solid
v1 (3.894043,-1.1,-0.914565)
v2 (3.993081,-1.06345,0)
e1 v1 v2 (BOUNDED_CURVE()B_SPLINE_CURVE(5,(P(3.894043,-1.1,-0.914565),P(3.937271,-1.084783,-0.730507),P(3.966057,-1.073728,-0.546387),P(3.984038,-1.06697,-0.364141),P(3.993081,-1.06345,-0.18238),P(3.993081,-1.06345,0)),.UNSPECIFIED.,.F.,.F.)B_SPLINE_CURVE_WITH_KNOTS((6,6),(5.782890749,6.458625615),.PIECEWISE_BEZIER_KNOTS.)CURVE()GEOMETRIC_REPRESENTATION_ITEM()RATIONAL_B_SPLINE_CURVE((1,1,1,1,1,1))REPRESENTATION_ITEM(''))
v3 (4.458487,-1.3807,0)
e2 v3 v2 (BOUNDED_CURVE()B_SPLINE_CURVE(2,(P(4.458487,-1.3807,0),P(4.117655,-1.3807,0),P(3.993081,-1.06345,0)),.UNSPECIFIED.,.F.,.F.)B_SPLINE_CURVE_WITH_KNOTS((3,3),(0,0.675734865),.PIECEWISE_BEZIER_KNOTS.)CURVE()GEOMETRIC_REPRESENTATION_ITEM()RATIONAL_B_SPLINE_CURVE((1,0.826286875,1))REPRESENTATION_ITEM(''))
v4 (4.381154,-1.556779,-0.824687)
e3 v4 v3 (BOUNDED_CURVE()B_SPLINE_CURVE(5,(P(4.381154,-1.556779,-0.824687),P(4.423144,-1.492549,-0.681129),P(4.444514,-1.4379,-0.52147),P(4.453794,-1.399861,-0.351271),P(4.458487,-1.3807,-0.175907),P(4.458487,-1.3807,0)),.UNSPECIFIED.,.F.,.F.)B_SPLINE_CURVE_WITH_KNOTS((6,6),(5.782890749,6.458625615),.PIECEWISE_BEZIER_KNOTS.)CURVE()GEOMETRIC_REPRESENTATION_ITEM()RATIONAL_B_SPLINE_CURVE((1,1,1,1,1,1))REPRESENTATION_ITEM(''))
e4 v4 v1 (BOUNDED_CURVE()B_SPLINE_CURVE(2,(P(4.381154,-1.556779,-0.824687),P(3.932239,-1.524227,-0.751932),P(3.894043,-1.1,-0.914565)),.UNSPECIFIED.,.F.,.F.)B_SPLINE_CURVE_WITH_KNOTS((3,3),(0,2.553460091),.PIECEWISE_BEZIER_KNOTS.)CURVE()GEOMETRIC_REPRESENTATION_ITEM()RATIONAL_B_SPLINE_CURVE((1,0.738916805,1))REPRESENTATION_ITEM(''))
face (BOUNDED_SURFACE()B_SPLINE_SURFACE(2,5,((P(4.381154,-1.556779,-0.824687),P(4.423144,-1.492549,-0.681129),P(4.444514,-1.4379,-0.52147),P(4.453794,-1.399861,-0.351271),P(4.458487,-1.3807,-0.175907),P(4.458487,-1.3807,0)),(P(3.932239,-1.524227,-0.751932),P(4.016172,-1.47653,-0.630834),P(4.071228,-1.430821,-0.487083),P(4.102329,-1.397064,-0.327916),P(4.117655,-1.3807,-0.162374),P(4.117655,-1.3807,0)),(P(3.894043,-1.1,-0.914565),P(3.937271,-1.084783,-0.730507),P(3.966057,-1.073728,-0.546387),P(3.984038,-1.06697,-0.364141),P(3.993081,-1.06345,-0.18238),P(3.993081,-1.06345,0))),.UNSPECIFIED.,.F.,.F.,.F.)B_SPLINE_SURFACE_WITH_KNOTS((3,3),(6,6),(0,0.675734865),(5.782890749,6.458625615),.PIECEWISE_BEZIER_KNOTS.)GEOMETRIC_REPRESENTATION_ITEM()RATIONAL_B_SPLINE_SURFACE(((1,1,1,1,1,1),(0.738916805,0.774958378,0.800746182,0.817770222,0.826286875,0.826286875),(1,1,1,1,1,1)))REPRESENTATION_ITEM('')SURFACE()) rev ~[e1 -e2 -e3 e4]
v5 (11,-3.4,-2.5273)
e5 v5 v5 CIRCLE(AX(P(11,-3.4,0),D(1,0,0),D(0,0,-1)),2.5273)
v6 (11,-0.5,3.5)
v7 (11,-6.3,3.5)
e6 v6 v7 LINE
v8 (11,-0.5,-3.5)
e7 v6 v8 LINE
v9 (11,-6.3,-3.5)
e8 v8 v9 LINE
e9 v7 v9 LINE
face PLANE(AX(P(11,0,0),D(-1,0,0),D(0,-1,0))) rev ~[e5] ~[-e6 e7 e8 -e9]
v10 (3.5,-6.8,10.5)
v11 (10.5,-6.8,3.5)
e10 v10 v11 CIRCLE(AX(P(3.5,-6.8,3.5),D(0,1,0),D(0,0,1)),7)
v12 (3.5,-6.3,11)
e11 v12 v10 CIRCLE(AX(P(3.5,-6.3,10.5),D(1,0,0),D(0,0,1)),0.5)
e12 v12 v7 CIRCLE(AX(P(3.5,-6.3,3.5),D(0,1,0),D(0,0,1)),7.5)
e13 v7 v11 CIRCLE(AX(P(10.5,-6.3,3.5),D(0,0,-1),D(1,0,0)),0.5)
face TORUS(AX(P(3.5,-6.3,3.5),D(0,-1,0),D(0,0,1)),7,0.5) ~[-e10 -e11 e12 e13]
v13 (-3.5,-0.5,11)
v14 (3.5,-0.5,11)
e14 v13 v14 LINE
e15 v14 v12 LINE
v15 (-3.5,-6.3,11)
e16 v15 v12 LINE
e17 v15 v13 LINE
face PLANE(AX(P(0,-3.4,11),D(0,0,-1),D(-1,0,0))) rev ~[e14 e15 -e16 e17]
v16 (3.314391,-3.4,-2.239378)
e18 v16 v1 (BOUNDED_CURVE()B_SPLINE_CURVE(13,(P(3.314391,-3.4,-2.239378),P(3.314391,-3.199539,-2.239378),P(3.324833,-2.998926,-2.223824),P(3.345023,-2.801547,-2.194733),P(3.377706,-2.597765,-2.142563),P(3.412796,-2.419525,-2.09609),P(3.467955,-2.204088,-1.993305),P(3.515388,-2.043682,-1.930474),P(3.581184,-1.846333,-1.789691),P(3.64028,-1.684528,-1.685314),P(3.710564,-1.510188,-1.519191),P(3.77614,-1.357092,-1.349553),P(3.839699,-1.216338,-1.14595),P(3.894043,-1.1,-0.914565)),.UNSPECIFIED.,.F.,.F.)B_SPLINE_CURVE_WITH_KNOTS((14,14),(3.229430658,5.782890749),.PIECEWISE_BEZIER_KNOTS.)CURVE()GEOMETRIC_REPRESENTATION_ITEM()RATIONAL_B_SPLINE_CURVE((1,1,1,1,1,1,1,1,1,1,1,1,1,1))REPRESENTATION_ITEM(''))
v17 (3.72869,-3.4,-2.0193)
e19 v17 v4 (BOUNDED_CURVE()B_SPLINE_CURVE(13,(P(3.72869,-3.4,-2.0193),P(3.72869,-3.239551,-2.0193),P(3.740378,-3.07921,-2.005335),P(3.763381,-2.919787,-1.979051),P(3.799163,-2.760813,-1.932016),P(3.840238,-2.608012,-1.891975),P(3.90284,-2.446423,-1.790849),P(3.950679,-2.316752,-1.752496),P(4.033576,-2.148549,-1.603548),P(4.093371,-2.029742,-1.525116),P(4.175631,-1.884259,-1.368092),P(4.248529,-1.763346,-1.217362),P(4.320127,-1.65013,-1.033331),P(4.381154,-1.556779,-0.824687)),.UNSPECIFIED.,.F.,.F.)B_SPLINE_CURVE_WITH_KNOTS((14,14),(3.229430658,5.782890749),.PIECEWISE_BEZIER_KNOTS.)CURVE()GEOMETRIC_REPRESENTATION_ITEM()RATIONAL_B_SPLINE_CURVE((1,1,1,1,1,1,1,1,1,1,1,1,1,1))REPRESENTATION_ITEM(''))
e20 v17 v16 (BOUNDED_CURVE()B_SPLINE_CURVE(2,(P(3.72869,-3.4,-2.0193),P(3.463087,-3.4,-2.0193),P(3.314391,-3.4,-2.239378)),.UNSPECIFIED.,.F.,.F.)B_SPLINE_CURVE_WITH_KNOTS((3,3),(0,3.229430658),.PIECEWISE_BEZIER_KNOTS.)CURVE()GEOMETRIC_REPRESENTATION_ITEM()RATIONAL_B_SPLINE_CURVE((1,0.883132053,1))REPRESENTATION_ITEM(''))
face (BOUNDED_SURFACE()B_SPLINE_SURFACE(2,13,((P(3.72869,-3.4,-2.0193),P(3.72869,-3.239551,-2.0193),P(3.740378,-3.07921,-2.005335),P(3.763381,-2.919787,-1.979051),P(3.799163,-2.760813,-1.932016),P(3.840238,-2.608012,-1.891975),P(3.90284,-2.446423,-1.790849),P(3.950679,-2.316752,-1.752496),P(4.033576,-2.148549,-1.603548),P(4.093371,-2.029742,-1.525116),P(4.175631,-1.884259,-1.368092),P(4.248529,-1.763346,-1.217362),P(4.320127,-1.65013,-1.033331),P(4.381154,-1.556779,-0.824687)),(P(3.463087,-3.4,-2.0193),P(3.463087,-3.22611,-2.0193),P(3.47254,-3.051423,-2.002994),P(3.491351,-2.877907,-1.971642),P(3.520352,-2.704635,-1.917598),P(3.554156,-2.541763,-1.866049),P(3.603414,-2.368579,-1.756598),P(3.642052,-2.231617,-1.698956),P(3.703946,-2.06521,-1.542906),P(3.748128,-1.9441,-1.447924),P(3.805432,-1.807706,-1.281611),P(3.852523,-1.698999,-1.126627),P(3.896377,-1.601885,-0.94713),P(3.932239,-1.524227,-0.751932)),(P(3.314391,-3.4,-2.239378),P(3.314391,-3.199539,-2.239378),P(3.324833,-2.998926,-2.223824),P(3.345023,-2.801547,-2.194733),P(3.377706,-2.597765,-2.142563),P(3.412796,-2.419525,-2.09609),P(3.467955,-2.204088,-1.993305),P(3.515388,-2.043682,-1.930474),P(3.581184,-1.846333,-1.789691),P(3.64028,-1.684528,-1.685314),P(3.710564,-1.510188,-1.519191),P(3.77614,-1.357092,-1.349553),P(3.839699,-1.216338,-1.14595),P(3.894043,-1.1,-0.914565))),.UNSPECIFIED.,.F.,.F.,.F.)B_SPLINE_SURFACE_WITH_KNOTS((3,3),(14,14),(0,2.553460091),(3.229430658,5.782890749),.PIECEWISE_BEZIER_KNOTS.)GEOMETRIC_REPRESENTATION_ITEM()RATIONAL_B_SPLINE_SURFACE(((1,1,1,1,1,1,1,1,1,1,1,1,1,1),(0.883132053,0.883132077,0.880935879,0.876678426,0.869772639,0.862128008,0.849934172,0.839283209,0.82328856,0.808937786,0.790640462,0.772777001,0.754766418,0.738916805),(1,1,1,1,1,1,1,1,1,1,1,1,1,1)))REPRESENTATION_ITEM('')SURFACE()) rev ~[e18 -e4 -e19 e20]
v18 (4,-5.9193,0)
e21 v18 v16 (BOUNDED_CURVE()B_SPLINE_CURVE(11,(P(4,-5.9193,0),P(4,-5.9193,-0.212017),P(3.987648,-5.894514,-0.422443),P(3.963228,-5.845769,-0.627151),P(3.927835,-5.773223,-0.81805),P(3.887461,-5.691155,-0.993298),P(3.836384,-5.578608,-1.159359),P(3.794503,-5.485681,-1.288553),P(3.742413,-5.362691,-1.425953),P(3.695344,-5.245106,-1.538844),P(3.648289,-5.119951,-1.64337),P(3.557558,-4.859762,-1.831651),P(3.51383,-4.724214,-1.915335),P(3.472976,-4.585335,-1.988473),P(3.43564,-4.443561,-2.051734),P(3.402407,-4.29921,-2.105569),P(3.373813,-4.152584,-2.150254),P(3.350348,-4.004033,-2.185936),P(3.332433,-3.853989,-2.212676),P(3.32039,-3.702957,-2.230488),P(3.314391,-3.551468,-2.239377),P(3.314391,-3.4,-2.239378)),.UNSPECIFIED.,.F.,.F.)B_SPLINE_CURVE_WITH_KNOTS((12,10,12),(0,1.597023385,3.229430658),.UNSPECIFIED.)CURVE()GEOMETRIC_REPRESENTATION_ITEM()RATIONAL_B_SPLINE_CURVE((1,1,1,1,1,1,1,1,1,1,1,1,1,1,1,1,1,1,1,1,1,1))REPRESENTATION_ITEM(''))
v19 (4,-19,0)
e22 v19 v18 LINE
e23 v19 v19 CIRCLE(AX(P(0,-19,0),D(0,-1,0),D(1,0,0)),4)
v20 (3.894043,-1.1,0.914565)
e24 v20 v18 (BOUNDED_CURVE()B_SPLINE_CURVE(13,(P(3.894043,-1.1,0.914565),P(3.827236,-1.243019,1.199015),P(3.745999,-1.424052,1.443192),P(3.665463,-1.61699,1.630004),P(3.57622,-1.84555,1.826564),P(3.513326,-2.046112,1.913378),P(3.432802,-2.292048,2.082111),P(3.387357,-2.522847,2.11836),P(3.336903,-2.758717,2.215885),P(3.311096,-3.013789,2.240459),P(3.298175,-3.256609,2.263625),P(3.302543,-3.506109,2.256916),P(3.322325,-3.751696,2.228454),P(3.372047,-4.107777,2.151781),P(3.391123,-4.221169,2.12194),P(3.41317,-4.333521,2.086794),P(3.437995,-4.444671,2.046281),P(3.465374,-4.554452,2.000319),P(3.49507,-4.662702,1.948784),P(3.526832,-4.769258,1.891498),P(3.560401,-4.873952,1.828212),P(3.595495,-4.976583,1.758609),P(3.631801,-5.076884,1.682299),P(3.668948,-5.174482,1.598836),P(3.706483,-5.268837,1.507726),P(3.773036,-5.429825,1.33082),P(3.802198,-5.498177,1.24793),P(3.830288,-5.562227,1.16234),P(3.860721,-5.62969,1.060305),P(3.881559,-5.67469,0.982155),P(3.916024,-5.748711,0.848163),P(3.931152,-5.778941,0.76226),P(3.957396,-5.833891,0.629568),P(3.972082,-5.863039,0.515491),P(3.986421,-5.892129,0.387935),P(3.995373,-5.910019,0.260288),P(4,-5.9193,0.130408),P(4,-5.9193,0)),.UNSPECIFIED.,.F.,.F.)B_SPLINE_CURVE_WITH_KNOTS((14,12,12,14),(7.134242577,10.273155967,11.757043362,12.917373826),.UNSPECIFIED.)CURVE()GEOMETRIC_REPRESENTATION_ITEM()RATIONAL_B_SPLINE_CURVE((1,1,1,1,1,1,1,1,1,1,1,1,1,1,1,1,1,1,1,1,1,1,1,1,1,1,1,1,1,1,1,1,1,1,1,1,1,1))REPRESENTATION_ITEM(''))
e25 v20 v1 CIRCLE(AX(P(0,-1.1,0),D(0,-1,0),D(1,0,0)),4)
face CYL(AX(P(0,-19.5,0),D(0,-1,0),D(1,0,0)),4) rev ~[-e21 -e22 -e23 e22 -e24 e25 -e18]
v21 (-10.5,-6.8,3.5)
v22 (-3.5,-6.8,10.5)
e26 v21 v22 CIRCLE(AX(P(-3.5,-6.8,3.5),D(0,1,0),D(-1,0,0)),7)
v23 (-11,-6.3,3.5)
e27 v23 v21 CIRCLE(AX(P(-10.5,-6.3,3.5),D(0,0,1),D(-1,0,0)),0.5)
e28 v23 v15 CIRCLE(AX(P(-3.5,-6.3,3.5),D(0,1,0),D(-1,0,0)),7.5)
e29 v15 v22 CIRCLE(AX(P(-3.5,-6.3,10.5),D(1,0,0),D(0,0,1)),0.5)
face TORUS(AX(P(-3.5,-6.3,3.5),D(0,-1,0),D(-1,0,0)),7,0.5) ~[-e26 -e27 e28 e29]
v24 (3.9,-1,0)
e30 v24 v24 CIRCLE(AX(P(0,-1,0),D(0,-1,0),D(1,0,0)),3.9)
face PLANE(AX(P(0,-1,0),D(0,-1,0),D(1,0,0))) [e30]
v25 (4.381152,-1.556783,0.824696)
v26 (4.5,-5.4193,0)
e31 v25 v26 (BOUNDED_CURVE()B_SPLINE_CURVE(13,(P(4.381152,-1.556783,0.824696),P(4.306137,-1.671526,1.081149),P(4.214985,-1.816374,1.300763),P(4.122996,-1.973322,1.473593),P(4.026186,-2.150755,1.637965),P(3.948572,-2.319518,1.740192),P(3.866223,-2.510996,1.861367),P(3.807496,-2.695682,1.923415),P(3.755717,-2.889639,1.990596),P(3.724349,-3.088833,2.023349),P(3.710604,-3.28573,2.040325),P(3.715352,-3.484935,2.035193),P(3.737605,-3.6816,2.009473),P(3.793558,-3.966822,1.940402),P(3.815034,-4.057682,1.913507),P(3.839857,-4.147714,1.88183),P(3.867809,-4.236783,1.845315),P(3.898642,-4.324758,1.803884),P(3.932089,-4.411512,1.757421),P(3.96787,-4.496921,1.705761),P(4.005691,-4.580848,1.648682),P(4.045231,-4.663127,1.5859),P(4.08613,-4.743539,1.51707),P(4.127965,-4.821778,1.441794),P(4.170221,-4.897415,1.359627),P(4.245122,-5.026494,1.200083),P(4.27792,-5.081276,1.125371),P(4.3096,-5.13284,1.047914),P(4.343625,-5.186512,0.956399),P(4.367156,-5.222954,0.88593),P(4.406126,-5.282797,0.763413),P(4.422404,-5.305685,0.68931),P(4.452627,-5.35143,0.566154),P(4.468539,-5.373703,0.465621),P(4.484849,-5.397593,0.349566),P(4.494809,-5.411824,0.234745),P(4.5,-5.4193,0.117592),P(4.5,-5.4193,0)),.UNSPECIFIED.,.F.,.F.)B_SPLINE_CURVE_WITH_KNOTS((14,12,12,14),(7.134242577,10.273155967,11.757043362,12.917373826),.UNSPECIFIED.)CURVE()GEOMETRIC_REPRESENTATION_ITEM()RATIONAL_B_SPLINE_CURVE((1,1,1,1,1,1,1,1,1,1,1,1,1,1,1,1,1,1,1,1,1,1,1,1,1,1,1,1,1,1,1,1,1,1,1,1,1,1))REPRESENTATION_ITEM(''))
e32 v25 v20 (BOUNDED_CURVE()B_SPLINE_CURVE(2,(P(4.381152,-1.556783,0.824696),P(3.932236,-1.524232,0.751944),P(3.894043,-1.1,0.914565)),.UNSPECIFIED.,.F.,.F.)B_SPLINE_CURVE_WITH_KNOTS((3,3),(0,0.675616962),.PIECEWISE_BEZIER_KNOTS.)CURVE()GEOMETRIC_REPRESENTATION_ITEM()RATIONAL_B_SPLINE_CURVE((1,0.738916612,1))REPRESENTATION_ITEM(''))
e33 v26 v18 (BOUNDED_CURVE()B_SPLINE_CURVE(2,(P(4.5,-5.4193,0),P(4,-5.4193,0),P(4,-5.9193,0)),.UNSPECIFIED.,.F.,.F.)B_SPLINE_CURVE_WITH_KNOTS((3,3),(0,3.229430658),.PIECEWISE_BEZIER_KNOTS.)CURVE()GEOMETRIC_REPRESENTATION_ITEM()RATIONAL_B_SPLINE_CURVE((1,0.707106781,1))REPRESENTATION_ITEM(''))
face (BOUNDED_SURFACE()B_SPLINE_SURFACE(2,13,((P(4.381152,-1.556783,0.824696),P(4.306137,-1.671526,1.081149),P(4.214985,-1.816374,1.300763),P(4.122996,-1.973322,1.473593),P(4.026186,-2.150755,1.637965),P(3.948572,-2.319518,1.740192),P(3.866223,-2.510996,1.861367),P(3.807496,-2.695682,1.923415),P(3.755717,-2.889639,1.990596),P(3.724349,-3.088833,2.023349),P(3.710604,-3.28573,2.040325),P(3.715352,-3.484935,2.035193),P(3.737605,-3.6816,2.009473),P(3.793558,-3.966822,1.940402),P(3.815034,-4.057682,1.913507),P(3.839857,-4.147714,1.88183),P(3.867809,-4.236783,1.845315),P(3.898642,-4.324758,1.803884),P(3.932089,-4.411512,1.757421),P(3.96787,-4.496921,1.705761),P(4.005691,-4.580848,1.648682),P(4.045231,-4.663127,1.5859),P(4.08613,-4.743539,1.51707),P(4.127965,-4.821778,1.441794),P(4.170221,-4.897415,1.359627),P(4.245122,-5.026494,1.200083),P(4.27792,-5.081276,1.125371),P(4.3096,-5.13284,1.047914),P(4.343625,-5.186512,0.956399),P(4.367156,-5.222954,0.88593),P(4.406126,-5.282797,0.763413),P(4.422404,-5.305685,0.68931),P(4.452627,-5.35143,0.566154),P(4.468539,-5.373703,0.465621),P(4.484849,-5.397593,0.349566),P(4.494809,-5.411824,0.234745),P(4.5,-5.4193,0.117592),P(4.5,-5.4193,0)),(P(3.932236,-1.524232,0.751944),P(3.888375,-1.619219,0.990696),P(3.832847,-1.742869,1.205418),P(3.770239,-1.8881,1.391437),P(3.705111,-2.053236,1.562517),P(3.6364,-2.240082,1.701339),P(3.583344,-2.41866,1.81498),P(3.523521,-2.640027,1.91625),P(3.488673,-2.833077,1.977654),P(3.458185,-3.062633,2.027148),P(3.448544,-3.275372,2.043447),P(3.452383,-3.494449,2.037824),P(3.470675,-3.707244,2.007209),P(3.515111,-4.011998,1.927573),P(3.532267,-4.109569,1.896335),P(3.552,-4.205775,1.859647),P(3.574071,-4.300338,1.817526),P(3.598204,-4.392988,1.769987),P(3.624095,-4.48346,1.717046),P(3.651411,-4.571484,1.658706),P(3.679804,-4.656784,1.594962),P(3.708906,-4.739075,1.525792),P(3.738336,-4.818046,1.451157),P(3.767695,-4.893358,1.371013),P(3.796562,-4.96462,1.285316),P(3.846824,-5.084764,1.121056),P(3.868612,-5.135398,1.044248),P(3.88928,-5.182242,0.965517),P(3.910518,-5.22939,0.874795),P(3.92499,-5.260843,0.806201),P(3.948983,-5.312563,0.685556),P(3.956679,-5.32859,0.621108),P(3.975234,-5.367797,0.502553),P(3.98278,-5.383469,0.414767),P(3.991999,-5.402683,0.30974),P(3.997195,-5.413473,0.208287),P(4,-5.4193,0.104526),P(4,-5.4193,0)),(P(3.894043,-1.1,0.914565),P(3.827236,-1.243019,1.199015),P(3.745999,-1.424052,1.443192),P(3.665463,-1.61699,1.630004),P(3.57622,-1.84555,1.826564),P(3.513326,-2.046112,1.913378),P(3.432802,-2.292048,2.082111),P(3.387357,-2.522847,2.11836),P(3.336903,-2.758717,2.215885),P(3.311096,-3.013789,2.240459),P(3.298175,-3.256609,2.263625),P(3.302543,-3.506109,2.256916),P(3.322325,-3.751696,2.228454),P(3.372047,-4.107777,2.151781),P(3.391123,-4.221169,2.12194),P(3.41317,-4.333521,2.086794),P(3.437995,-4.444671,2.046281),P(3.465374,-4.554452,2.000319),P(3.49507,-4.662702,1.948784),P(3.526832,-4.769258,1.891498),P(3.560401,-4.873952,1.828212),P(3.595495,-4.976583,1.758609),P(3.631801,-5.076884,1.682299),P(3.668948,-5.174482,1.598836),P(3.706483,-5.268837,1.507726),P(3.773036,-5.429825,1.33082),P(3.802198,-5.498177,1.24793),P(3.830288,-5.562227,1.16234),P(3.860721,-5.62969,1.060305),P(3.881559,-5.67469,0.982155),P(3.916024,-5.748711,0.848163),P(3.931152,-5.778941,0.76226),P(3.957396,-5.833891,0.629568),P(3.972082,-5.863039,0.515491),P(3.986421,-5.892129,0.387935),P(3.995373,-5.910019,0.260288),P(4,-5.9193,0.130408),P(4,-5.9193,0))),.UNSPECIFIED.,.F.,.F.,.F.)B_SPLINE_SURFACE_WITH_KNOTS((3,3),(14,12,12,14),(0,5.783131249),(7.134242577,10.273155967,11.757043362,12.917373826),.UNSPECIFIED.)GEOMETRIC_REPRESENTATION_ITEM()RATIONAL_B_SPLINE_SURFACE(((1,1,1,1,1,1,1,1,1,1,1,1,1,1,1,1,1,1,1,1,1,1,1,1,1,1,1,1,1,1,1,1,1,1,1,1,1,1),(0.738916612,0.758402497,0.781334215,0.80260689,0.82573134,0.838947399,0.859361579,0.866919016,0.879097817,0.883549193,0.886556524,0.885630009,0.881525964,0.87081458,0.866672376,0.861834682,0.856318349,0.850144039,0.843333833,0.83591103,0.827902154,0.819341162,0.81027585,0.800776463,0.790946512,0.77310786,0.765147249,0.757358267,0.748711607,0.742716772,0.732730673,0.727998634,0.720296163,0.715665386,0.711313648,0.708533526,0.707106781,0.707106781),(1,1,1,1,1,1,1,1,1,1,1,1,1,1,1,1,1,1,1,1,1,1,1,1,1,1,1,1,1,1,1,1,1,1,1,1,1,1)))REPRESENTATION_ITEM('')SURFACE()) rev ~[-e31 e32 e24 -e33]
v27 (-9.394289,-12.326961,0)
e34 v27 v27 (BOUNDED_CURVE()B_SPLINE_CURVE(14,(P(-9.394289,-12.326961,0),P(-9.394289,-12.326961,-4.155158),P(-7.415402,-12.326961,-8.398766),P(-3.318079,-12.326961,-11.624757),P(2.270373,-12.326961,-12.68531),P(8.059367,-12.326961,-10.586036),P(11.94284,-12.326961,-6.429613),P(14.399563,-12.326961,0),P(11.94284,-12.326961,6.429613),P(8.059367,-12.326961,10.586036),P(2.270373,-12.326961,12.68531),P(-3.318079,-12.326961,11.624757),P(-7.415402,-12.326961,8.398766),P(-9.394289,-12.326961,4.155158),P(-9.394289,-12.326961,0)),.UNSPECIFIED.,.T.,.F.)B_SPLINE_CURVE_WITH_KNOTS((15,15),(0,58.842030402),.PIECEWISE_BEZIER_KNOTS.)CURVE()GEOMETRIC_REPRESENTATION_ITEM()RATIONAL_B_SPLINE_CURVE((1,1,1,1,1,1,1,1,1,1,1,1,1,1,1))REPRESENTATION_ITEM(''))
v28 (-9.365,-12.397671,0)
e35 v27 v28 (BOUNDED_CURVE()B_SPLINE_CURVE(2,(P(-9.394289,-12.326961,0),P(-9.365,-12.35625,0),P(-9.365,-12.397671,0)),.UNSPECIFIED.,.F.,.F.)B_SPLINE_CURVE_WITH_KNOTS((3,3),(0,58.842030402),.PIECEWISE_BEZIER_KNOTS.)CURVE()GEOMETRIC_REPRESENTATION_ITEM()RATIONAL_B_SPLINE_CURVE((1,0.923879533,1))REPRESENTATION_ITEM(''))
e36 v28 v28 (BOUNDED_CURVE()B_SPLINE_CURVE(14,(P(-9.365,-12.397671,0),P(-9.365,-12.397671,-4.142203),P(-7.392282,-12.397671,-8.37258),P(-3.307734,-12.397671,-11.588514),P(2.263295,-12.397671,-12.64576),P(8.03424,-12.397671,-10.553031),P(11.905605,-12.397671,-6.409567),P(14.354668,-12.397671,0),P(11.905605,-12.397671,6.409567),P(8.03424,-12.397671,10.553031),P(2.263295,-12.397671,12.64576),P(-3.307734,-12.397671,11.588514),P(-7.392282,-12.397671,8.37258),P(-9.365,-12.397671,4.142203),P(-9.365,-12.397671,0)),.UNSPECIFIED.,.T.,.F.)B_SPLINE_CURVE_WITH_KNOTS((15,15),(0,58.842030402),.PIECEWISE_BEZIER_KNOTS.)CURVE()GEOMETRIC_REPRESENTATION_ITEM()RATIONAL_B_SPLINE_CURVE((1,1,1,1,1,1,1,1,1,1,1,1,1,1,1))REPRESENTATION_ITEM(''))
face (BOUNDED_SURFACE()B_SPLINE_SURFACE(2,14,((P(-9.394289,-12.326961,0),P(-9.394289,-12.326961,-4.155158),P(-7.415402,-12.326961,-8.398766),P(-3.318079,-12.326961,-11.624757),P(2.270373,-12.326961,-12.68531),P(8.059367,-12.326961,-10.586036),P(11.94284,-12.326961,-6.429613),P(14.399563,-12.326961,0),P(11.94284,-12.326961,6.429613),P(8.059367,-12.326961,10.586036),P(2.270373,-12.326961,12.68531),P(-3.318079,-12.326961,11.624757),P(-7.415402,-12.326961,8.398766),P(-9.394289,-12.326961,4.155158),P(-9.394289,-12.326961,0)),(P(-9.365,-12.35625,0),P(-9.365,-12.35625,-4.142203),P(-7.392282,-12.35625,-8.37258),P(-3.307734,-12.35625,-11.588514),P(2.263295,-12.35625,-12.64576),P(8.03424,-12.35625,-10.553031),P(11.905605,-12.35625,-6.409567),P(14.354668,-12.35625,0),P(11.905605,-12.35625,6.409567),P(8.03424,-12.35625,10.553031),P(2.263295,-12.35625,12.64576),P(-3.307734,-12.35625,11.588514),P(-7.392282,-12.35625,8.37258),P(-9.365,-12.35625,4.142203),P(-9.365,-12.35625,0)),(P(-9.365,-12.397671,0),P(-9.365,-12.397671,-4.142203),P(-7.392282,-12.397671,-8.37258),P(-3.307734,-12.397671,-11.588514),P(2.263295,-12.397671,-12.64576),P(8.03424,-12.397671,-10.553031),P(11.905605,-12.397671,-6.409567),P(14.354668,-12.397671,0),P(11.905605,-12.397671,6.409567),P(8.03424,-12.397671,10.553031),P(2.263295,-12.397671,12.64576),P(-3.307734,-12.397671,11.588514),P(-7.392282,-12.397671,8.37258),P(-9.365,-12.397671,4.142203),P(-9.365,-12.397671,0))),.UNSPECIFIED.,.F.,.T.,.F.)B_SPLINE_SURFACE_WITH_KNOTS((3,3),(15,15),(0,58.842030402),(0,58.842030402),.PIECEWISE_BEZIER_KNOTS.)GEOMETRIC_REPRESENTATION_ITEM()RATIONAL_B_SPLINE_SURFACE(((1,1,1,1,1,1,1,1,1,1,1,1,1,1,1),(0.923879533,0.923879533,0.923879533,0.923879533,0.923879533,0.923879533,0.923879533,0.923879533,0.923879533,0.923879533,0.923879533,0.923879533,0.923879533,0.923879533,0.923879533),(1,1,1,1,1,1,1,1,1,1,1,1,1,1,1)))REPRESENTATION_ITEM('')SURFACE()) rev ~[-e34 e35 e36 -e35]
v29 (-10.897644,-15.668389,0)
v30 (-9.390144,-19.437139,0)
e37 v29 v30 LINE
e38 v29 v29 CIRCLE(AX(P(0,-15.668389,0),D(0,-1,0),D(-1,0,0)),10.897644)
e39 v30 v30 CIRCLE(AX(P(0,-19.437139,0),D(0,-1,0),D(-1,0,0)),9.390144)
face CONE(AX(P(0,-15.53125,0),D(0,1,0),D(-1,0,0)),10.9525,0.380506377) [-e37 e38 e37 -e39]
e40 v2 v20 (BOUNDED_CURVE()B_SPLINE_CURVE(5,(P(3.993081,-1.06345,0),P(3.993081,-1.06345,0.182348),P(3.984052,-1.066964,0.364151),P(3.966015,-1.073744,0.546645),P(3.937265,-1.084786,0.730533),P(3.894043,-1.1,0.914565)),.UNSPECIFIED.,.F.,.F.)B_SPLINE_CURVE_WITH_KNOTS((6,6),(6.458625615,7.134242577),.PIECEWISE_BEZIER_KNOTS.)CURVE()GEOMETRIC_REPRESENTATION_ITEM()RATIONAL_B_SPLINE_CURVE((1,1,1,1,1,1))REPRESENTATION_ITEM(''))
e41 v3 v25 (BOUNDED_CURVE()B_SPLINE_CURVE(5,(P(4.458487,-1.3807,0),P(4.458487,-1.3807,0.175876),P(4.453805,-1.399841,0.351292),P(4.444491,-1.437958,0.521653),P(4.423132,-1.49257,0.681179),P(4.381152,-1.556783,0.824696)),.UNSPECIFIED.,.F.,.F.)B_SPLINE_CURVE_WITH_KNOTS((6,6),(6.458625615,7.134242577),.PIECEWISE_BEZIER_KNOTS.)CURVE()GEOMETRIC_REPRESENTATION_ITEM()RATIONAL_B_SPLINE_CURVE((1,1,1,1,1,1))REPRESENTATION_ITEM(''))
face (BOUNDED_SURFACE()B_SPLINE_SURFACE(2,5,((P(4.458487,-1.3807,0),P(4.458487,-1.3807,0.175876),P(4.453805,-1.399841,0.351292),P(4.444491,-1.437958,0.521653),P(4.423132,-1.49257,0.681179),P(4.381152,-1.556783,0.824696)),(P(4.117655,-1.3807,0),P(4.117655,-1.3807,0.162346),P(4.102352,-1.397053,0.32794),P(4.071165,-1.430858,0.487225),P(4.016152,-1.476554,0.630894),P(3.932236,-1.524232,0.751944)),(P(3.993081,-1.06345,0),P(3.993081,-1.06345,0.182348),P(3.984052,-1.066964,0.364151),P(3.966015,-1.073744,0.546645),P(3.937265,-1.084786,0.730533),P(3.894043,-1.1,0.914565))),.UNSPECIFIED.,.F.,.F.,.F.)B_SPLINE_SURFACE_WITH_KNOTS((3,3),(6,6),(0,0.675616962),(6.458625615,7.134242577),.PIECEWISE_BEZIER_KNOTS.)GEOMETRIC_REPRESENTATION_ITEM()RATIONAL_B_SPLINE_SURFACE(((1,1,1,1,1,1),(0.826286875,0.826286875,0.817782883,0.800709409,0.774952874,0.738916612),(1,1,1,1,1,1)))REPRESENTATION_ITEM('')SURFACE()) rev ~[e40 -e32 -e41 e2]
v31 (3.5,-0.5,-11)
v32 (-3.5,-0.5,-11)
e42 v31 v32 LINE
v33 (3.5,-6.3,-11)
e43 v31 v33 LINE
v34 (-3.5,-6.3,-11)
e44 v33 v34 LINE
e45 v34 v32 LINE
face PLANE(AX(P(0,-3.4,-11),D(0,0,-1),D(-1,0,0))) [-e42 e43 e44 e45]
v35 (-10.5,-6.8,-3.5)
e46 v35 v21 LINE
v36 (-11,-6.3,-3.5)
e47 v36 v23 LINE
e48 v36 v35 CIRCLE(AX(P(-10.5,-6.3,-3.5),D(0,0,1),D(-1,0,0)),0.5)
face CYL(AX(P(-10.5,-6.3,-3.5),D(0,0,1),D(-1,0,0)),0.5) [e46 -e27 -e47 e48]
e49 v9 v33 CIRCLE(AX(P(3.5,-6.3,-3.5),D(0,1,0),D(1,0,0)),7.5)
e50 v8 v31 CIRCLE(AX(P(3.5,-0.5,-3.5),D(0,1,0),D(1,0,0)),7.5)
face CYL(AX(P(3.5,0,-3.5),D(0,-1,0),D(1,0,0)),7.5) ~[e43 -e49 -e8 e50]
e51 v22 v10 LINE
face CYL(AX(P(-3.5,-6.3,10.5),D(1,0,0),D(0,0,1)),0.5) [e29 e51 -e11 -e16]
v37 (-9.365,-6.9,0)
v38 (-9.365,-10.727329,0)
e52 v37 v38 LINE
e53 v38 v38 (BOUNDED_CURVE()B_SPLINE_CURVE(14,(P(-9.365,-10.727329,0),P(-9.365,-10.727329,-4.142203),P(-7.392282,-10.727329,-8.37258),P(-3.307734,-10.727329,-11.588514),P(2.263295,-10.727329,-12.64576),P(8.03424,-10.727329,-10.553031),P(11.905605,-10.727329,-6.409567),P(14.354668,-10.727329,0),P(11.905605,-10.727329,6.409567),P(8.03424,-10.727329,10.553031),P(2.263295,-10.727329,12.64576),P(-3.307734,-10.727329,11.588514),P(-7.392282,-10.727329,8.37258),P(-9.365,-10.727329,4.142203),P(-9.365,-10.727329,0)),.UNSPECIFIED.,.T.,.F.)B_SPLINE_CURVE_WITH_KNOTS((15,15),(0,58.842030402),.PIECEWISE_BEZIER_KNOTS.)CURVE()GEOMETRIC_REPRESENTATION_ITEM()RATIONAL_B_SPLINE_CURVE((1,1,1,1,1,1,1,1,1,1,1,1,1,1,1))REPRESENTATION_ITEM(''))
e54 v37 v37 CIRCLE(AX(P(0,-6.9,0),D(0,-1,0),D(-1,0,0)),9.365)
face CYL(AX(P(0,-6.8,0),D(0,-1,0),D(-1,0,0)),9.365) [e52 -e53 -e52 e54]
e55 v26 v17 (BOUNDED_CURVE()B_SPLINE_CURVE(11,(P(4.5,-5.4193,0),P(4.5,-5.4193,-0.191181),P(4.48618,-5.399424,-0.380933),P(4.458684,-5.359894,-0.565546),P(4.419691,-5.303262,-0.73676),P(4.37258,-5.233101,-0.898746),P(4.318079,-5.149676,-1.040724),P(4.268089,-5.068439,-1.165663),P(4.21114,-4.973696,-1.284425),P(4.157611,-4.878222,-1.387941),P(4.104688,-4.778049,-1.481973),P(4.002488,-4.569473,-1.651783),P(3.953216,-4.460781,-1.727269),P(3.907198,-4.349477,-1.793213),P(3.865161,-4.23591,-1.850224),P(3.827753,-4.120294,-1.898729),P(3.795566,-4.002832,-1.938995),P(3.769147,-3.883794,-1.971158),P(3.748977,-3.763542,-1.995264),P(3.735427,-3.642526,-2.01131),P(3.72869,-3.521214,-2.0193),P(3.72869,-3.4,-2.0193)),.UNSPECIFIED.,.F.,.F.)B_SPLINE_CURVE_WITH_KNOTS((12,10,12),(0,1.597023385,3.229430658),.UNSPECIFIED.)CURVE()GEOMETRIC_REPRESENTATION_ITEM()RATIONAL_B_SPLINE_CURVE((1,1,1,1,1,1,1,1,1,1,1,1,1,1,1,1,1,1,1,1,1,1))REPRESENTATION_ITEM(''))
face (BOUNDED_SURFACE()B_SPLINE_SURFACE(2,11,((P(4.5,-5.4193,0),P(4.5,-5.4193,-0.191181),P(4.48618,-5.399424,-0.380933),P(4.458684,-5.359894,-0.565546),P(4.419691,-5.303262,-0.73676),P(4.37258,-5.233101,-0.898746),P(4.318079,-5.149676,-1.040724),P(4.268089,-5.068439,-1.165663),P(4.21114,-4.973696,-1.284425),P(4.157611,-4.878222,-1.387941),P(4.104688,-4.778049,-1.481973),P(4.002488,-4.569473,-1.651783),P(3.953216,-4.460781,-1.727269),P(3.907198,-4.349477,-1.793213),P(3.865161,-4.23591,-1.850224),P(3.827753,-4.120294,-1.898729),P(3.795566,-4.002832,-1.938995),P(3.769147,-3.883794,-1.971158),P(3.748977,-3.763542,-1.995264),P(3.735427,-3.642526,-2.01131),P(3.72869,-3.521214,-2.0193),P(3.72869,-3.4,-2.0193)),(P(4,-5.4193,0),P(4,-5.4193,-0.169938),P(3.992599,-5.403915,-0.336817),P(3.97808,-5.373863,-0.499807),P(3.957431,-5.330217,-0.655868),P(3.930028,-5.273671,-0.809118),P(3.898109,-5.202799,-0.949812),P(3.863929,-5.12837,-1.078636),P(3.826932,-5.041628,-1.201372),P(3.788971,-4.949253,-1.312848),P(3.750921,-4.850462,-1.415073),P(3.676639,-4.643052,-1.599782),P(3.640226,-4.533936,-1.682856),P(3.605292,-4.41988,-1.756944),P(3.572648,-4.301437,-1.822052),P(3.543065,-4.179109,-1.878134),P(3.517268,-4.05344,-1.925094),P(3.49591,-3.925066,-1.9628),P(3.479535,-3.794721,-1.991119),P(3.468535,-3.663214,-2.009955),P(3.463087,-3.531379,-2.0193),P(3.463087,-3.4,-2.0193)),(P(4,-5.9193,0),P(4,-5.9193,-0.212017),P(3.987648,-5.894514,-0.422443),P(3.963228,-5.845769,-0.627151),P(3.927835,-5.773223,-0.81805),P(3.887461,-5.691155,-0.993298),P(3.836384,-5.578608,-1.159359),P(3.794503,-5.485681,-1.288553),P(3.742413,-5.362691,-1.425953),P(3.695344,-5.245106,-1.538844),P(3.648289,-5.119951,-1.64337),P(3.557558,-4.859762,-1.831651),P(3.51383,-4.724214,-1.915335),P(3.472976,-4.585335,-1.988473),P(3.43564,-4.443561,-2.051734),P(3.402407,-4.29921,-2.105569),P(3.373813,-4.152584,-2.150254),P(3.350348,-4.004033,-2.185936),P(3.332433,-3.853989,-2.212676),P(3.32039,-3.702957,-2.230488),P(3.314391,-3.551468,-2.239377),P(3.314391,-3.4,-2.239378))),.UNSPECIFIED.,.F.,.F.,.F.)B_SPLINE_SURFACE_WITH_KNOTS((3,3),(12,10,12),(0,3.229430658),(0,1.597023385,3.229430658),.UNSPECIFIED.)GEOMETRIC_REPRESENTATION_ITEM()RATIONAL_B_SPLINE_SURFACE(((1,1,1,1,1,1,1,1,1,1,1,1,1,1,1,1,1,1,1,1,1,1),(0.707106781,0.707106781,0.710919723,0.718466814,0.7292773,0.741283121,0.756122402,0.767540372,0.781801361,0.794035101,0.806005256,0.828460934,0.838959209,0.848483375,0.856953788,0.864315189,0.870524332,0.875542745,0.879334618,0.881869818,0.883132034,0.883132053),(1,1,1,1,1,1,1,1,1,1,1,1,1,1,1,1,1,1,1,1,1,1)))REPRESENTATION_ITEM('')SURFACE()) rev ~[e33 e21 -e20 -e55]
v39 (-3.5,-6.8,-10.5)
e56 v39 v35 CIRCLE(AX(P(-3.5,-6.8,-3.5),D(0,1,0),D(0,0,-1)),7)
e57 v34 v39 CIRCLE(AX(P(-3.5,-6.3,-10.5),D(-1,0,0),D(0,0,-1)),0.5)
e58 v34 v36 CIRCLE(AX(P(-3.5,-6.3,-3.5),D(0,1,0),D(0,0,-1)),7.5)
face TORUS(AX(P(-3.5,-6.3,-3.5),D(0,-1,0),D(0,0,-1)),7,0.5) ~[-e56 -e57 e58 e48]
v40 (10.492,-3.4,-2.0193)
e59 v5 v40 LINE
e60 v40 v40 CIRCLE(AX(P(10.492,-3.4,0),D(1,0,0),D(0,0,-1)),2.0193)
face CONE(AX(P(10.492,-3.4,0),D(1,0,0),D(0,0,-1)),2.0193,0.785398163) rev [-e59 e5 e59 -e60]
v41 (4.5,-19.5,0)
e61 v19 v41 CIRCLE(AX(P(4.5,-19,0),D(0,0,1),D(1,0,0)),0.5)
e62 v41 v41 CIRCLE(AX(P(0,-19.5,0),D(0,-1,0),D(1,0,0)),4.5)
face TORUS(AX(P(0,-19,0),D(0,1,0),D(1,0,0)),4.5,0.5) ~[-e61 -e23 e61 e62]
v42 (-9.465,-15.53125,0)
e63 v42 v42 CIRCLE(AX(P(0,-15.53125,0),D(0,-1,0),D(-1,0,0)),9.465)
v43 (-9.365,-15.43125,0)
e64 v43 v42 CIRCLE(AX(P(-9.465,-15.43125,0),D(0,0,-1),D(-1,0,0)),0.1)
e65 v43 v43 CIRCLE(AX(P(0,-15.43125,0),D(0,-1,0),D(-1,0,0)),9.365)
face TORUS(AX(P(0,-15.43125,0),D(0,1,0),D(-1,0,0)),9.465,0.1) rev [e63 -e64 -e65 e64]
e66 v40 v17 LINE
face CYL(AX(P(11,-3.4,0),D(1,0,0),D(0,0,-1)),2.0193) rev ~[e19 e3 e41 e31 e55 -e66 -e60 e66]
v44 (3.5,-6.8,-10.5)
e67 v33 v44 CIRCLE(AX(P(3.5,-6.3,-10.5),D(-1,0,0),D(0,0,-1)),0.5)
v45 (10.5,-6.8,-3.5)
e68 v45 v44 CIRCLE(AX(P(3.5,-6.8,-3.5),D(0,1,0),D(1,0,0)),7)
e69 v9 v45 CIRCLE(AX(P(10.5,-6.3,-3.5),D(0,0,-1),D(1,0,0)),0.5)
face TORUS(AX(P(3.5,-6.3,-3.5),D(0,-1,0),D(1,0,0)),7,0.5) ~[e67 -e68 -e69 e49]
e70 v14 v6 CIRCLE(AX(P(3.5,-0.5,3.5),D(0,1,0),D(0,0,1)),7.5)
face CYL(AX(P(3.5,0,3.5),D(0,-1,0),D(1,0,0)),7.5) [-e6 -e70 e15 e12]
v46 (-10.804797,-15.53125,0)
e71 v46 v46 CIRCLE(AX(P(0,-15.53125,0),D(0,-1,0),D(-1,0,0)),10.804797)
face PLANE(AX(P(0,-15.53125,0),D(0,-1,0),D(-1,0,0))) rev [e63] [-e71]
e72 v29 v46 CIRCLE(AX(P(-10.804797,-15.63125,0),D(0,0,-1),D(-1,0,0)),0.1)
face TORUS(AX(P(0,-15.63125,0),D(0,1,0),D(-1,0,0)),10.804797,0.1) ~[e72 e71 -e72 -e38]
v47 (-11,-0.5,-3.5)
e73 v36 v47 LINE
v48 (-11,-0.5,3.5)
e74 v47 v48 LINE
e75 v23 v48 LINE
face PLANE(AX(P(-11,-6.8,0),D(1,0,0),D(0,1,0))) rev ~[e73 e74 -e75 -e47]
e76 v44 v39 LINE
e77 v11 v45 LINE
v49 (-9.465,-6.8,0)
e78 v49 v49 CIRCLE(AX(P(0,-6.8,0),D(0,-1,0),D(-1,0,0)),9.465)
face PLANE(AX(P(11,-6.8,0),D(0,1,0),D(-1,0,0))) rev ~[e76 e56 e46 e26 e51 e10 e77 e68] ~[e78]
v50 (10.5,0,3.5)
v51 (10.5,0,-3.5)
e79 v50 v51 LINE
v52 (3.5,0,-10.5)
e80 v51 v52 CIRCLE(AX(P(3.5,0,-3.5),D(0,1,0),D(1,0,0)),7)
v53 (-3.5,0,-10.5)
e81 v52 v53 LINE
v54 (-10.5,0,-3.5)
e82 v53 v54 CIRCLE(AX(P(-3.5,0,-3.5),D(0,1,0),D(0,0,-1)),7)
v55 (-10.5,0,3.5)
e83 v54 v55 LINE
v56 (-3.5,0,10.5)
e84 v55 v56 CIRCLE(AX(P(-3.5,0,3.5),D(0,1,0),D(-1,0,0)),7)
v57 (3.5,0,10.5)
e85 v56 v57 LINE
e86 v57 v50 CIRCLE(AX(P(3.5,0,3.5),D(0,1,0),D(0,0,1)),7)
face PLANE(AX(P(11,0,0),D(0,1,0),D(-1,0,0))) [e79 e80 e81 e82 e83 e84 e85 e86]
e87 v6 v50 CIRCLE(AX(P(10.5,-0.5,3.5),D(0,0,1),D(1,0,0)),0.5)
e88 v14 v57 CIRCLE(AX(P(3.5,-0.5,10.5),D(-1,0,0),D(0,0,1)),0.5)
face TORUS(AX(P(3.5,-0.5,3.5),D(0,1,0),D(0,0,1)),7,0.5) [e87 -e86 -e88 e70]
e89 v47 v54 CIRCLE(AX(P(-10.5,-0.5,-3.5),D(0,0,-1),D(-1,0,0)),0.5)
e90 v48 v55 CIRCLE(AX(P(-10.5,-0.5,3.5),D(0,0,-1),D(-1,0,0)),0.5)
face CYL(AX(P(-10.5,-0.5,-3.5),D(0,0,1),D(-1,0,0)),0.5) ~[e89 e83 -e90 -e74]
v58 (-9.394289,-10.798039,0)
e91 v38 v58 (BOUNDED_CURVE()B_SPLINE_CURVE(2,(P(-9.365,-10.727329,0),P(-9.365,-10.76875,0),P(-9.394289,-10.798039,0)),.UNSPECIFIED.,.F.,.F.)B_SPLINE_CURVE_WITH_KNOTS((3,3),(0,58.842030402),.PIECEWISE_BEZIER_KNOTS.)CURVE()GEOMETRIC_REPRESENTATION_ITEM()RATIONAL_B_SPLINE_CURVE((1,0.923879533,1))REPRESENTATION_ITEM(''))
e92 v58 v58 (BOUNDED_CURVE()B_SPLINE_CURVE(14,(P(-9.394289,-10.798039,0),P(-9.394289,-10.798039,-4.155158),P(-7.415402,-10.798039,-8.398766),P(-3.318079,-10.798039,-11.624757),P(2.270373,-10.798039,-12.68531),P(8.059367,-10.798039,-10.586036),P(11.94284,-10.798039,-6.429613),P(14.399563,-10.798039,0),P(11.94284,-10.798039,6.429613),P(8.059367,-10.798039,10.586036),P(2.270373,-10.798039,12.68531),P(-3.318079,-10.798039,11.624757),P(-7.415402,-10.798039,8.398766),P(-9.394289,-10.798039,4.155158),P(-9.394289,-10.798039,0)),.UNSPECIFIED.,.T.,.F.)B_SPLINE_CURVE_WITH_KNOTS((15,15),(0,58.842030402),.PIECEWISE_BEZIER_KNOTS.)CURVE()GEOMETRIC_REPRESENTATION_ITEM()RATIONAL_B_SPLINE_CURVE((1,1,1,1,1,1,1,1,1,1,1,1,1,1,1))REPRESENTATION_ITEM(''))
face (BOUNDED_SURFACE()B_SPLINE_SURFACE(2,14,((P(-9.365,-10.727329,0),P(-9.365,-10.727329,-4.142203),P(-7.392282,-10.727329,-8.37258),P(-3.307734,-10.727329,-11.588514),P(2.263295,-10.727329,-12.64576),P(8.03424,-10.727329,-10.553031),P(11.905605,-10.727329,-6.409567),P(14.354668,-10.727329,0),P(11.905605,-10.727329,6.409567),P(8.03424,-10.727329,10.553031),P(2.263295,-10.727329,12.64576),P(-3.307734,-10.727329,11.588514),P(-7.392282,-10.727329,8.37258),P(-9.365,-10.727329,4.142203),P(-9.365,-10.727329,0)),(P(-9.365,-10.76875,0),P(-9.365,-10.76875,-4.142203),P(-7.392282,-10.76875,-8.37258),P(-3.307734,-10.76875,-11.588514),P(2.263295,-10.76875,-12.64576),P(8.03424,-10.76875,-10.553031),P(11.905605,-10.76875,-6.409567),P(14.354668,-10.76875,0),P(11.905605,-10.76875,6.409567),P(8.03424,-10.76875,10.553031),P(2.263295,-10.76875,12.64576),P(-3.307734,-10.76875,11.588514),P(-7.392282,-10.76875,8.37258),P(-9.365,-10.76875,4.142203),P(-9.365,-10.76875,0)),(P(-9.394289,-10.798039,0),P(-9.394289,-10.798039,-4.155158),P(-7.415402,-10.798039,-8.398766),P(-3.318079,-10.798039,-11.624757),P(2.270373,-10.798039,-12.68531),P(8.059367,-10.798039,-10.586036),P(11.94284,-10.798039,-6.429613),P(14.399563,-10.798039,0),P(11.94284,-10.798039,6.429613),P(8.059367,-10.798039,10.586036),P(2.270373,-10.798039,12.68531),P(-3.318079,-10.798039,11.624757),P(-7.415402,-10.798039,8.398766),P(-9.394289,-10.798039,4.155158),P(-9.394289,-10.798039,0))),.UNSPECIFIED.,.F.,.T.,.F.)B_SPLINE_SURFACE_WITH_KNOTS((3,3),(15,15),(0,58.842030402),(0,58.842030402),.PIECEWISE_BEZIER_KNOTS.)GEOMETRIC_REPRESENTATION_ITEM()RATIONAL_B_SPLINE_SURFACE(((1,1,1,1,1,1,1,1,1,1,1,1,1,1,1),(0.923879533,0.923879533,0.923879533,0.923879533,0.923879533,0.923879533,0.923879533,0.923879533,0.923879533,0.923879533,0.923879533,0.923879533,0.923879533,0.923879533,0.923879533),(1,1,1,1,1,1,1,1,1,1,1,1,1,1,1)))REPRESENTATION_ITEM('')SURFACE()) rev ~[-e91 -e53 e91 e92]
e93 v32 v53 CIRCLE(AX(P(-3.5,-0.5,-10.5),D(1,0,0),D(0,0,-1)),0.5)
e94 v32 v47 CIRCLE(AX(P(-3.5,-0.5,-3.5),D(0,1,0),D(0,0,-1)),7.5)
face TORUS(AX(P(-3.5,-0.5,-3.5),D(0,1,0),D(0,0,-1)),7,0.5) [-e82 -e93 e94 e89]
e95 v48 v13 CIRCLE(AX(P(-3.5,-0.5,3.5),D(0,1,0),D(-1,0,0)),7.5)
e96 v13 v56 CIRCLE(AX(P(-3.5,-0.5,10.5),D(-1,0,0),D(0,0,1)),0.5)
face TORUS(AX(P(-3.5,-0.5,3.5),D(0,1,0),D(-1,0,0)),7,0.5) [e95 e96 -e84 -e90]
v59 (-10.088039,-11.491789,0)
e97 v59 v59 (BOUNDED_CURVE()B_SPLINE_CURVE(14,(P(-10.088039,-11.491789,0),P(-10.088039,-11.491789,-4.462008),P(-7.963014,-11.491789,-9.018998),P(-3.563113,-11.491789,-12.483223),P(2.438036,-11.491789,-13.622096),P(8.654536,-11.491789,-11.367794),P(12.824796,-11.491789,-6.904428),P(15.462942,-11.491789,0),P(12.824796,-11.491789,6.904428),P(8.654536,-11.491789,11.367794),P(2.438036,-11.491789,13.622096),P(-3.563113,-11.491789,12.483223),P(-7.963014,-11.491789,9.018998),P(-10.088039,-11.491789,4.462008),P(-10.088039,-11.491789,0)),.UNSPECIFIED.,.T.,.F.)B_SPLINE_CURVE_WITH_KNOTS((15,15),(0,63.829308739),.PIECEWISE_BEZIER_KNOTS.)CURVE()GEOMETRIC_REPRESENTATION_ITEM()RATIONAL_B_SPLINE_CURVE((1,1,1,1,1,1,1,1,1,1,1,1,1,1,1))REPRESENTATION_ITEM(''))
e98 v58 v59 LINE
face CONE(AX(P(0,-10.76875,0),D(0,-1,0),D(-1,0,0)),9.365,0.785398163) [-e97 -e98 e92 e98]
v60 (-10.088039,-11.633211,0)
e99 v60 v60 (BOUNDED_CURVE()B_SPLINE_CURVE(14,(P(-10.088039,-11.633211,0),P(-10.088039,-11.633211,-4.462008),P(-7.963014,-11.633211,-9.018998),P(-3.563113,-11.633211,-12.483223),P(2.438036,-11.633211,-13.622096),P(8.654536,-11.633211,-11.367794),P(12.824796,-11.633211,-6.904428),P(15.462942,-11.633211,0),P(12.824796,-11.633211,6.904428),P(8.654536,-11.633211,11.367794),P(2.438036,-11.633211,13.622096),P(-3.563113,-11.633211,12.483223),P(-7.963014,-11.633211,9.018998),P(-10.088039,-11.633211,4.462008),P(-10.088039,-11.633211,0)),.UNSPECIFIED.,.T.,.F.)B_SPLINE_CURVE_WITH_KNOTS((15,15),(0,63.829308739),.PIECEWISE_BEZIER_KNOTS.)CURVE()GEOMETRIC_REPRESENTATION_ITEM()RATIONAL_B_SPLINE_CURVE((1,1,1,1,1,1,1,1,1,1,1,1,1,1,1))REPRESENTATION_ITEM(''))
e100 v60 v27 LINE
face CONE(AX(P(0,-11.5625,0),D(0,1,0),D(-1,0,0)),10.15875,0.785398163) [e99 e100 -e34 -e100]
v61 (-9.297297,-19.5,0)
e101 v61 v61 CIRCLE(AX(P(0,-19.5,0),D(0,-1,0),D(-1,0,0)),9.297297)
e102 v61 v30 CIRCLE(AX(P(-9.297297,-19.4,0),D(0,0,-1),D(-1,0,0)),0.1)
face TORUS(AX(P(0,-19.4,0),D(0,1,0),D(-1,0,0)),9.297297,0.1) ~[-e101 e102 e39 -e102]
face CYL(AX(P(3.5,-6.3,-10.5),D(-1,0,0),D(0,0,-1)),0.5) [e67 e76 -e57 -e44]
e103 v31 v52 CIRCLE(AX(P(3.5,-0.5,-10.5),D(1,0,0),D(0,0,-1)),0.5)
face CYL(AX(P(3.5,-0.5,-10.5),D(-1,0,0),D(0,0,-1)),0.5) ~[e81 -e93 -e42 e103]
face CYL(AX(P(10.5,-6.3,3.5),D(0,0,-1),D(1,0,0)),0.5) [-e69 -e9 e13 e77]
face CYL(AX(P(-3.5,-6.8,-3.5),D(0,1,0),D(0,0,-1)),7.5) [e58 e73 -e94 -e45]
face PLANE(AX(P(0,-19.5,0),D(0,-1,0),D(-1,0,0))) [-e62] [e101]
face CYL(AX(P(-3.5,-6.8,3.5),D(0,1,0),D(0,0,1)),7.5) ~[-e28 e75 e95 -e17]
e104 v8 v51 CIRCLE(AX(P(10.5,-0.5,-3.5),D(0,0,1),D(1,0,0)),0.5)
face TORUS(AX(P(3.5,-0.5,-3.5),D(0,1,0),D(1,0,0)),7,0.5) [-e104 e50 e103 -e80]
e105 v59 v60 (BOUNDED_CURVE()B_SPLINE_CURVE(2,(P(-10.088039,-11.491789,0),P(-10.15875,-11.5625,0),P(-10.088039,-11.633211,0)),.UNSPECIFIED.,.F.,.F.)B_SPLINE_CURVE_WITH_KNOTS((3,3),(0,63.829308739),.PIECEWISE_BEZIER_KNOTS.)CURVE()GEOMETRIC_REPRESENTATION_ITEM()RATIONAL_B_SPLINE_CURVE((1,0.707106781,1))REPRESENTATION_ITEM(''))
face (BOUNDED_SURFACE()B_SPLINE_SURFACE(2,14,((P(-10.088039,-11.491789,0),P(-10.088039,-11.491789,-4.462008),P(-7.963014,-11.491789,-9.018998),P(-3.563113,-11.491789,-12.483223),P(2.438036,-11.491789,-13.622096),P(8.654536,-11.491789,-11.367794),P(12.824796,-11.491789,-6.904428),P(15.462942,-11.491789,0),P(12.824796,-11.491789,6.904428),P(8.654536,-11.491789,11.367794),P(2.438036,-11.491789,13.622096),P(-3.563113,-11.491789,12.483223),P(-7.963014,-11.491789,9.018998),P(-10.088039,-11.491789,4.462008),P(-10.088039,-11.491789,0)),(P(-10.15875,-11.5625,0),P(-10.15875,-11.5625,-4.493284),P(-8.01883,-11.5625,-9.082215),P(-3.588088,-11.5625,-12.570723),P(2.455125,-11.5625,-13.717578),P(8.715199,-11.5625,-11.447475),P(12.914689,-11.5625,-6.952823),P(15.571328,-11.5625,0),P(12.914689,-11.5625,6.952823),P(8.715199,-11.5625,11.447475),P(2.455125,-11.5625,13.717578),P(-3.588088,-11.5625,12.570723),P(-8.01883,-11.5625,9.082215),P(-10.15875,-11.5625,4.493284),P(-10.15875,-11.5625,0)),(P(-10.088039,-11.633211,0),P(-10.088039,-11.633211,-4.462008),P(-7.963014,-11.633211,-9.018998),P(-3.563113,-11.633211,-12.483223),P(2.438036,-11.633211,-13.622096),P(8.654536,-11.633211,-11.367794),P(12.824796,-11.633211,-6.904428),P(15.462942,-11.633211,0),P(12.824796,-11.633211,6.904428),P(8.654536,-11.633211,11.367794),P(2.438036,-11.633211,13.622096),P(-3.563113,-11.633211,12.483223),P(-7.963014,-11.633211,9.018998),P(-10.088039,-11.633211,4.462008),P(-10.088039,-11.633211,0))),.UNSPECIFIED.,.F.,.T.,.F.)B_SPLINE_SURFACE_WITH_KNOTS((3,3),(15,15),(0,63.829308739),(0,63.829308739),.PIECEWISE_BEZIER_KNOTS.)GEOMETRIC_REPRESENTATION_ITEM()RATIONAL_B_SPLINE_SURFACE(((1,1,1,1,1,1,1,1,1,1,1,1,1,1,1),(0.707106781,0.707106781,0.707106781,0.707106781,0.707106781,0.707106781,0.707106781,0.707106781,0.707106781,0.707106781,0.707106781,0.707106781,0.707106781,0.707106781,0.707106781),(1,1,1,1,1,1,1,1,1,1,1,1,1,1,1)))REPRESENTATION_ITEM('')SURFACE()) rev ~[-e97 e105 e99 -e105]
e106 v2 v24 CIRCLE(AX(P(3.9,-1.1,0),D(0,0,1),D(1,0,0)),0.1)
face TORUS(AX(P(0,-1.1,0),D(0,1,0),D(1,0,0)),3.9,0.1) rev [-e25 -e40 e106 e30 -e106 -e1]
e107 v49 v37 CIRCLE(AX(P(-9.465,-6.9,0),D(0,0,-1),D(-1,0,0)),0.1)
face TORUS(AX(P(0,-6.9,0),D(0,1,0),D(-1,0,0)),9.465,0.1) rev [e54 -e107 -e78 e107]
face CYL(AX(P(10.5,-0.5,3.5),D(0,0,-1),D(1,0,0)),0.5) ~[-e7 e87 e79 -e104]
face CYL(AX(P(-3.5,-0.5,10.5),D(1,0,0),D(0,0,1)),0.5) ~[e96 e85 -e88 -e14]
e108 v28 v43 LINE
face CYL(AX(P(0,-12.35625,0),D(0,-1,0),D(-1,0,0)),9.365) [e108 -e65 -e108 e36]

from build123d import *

# Parameters (mm, degrees)
BOSS_EXTRUDE1_DEPTH         = 11
SKETCH3_R                   = 4
CUT_EXTRUDE1_DEPTH          = 18.5
F_10_32_TAPPED_HOLE1_REACH  = 33.389
F_10_32_TAPPED_HOLE1_BORE_R = 2.0193
FILLET3_R                   = 0.1
CHAMFER1_SIZE               = 0.508
FILLET6_R                   = 7.5
FILLET8_R                   = 0.5


with BuildPart() as part:
    # Sketch1 → Boss-Extrude1 (new, symmetric)
    with BuildSketch(Plane.XY):
        Polygon((-11, 0), (0, 0), (11, 0), (11, -6.8), (-11, -6.8), align=None)
    extrude(amount=BOSS_EXTRUDE1_DEPTH, both=True)

    # Sketch2 → Revolve1 (revolve)
    with BuildSketch(Plane.XY, mode=Mode.PRIVATE) as revolve1_sk:
        Polygon((0, -6.8), (9.365, -6.8), (9.365, -10.76875), (10.15875, -11.5625), (9.365, -12.35625), (9.365, -15.53125), (10.9525, -15.53125), (9.365, -19.5), (0, -19.5), align=None)
    revolve(revolve1_sk.sketch.rotate(Axis((0, 9.54404991, 0), (0, -1, 0)), 180), axis=Axis((0, 9.54404991, 0), (0, -1, 0)))

    # Sketch3 → Cut-Extrude1 (cut)
    with BuildSketch(Plane.XZ.offset(19.5)):
        Circle(SKETCH3_R)
    extrude(amount=-CUT_EXTRUDE1_DEPTH, mode=Mode.SUBTRACT)

    # #10-32 Tapped Hole1 bore → #10-32 Tapped Hole1 (cut, up to next)
    with BuildSketch(Plane(origin=(11, 0, 0), x_dir=(0, 0, -1), z_dir=(1, 0, 0)), mode=Mode.PRIVATE) as f_10_32_tapped_hole1_sk1:
        with Locations((0, -3.4)):
            Circle(F_10_32_TAPPED_HOLE1_BORE_R)
    f_10_32_tapped_hole1_tool1 = extrude(f_10_32_tapped_hole1_sk1.sketch, amount=-F_10_32_TAPPED_HOLE1_REACH, mode=Mode.PRIVATE) & part.part
    add(f_10_32_tapped_hole1_tool1.solids().sort_by_distance((11, -3.4, 0))[0], mode=Mode.SUBTRACT)

    # Fillet3
    fillet3_edges = [part.edges().sort_by_distance(p)[0] for p in [
        (9.365, -6.8, 0),
        (9.365, -10.76875, 0),
        (10.15875, -11.5625, 0),
        (9.365, -12.35625, 0),
        (9.365, -15.53125, 0),
        (10.9525, -15.53125, 0),
        (9.365, -19.5, 0),
        (-4, -1, 0),
    ]]
    fillet(fillet3_edges, radius=FILLET3_R)

    # Chamfer1
    chamfer1_edges = [part.edges().sort_by_distance(p)[0] for p in [
        (11, -3.4, 2.0193),
    ]]
    chamfer(chamfer1_edges, length=CHAMFER1_SIZE)

    # Fillet6
    fillet6_edges = [part.edges().sort_by_distance(p)[0] for p in [
        (-11, -3.4, 11),
        (11, -3.4, 11),
        (11, -3.4, -11),
        (-11, -3.4, -11),
    ]]
    fillet(fillet6_edges, radius=FILLET6_R)

    # Fillet8
    fillet8_edges = [part.edges().sort_by_distance(p)[0] for p in [
        (-4, -19.5, 0),
        (3.736008632, -4.826650978, -1.429069455),
        (11, 0, 0),
        (11, -6.8, 0),
        (0, 0, -11),
        (-11, 0, 0),
        (0, 0, 11),
        (8.803300859, 0, 8.803300859),
        (-8.803300859, 0, 8.803300859),
        (-8.803300859, 0, -8.803300859),
        (8.803300859, 0, -8.803300859),
        (0, -6.8, -11),
        (0, -6.8, 11),
        (-11, -6.8, 0),
        (8.803300859, -6.8, 8.803300859),
        (-8.803300859, -6.8, 8.803300859),
        (-8.803300859, -6.8, -8.803300859),
        (8.803300859, -6.8, -8.803300859),
    ]]
    fillet(fillet8_edges, radius=FILLET8_R)


solid = part.part
